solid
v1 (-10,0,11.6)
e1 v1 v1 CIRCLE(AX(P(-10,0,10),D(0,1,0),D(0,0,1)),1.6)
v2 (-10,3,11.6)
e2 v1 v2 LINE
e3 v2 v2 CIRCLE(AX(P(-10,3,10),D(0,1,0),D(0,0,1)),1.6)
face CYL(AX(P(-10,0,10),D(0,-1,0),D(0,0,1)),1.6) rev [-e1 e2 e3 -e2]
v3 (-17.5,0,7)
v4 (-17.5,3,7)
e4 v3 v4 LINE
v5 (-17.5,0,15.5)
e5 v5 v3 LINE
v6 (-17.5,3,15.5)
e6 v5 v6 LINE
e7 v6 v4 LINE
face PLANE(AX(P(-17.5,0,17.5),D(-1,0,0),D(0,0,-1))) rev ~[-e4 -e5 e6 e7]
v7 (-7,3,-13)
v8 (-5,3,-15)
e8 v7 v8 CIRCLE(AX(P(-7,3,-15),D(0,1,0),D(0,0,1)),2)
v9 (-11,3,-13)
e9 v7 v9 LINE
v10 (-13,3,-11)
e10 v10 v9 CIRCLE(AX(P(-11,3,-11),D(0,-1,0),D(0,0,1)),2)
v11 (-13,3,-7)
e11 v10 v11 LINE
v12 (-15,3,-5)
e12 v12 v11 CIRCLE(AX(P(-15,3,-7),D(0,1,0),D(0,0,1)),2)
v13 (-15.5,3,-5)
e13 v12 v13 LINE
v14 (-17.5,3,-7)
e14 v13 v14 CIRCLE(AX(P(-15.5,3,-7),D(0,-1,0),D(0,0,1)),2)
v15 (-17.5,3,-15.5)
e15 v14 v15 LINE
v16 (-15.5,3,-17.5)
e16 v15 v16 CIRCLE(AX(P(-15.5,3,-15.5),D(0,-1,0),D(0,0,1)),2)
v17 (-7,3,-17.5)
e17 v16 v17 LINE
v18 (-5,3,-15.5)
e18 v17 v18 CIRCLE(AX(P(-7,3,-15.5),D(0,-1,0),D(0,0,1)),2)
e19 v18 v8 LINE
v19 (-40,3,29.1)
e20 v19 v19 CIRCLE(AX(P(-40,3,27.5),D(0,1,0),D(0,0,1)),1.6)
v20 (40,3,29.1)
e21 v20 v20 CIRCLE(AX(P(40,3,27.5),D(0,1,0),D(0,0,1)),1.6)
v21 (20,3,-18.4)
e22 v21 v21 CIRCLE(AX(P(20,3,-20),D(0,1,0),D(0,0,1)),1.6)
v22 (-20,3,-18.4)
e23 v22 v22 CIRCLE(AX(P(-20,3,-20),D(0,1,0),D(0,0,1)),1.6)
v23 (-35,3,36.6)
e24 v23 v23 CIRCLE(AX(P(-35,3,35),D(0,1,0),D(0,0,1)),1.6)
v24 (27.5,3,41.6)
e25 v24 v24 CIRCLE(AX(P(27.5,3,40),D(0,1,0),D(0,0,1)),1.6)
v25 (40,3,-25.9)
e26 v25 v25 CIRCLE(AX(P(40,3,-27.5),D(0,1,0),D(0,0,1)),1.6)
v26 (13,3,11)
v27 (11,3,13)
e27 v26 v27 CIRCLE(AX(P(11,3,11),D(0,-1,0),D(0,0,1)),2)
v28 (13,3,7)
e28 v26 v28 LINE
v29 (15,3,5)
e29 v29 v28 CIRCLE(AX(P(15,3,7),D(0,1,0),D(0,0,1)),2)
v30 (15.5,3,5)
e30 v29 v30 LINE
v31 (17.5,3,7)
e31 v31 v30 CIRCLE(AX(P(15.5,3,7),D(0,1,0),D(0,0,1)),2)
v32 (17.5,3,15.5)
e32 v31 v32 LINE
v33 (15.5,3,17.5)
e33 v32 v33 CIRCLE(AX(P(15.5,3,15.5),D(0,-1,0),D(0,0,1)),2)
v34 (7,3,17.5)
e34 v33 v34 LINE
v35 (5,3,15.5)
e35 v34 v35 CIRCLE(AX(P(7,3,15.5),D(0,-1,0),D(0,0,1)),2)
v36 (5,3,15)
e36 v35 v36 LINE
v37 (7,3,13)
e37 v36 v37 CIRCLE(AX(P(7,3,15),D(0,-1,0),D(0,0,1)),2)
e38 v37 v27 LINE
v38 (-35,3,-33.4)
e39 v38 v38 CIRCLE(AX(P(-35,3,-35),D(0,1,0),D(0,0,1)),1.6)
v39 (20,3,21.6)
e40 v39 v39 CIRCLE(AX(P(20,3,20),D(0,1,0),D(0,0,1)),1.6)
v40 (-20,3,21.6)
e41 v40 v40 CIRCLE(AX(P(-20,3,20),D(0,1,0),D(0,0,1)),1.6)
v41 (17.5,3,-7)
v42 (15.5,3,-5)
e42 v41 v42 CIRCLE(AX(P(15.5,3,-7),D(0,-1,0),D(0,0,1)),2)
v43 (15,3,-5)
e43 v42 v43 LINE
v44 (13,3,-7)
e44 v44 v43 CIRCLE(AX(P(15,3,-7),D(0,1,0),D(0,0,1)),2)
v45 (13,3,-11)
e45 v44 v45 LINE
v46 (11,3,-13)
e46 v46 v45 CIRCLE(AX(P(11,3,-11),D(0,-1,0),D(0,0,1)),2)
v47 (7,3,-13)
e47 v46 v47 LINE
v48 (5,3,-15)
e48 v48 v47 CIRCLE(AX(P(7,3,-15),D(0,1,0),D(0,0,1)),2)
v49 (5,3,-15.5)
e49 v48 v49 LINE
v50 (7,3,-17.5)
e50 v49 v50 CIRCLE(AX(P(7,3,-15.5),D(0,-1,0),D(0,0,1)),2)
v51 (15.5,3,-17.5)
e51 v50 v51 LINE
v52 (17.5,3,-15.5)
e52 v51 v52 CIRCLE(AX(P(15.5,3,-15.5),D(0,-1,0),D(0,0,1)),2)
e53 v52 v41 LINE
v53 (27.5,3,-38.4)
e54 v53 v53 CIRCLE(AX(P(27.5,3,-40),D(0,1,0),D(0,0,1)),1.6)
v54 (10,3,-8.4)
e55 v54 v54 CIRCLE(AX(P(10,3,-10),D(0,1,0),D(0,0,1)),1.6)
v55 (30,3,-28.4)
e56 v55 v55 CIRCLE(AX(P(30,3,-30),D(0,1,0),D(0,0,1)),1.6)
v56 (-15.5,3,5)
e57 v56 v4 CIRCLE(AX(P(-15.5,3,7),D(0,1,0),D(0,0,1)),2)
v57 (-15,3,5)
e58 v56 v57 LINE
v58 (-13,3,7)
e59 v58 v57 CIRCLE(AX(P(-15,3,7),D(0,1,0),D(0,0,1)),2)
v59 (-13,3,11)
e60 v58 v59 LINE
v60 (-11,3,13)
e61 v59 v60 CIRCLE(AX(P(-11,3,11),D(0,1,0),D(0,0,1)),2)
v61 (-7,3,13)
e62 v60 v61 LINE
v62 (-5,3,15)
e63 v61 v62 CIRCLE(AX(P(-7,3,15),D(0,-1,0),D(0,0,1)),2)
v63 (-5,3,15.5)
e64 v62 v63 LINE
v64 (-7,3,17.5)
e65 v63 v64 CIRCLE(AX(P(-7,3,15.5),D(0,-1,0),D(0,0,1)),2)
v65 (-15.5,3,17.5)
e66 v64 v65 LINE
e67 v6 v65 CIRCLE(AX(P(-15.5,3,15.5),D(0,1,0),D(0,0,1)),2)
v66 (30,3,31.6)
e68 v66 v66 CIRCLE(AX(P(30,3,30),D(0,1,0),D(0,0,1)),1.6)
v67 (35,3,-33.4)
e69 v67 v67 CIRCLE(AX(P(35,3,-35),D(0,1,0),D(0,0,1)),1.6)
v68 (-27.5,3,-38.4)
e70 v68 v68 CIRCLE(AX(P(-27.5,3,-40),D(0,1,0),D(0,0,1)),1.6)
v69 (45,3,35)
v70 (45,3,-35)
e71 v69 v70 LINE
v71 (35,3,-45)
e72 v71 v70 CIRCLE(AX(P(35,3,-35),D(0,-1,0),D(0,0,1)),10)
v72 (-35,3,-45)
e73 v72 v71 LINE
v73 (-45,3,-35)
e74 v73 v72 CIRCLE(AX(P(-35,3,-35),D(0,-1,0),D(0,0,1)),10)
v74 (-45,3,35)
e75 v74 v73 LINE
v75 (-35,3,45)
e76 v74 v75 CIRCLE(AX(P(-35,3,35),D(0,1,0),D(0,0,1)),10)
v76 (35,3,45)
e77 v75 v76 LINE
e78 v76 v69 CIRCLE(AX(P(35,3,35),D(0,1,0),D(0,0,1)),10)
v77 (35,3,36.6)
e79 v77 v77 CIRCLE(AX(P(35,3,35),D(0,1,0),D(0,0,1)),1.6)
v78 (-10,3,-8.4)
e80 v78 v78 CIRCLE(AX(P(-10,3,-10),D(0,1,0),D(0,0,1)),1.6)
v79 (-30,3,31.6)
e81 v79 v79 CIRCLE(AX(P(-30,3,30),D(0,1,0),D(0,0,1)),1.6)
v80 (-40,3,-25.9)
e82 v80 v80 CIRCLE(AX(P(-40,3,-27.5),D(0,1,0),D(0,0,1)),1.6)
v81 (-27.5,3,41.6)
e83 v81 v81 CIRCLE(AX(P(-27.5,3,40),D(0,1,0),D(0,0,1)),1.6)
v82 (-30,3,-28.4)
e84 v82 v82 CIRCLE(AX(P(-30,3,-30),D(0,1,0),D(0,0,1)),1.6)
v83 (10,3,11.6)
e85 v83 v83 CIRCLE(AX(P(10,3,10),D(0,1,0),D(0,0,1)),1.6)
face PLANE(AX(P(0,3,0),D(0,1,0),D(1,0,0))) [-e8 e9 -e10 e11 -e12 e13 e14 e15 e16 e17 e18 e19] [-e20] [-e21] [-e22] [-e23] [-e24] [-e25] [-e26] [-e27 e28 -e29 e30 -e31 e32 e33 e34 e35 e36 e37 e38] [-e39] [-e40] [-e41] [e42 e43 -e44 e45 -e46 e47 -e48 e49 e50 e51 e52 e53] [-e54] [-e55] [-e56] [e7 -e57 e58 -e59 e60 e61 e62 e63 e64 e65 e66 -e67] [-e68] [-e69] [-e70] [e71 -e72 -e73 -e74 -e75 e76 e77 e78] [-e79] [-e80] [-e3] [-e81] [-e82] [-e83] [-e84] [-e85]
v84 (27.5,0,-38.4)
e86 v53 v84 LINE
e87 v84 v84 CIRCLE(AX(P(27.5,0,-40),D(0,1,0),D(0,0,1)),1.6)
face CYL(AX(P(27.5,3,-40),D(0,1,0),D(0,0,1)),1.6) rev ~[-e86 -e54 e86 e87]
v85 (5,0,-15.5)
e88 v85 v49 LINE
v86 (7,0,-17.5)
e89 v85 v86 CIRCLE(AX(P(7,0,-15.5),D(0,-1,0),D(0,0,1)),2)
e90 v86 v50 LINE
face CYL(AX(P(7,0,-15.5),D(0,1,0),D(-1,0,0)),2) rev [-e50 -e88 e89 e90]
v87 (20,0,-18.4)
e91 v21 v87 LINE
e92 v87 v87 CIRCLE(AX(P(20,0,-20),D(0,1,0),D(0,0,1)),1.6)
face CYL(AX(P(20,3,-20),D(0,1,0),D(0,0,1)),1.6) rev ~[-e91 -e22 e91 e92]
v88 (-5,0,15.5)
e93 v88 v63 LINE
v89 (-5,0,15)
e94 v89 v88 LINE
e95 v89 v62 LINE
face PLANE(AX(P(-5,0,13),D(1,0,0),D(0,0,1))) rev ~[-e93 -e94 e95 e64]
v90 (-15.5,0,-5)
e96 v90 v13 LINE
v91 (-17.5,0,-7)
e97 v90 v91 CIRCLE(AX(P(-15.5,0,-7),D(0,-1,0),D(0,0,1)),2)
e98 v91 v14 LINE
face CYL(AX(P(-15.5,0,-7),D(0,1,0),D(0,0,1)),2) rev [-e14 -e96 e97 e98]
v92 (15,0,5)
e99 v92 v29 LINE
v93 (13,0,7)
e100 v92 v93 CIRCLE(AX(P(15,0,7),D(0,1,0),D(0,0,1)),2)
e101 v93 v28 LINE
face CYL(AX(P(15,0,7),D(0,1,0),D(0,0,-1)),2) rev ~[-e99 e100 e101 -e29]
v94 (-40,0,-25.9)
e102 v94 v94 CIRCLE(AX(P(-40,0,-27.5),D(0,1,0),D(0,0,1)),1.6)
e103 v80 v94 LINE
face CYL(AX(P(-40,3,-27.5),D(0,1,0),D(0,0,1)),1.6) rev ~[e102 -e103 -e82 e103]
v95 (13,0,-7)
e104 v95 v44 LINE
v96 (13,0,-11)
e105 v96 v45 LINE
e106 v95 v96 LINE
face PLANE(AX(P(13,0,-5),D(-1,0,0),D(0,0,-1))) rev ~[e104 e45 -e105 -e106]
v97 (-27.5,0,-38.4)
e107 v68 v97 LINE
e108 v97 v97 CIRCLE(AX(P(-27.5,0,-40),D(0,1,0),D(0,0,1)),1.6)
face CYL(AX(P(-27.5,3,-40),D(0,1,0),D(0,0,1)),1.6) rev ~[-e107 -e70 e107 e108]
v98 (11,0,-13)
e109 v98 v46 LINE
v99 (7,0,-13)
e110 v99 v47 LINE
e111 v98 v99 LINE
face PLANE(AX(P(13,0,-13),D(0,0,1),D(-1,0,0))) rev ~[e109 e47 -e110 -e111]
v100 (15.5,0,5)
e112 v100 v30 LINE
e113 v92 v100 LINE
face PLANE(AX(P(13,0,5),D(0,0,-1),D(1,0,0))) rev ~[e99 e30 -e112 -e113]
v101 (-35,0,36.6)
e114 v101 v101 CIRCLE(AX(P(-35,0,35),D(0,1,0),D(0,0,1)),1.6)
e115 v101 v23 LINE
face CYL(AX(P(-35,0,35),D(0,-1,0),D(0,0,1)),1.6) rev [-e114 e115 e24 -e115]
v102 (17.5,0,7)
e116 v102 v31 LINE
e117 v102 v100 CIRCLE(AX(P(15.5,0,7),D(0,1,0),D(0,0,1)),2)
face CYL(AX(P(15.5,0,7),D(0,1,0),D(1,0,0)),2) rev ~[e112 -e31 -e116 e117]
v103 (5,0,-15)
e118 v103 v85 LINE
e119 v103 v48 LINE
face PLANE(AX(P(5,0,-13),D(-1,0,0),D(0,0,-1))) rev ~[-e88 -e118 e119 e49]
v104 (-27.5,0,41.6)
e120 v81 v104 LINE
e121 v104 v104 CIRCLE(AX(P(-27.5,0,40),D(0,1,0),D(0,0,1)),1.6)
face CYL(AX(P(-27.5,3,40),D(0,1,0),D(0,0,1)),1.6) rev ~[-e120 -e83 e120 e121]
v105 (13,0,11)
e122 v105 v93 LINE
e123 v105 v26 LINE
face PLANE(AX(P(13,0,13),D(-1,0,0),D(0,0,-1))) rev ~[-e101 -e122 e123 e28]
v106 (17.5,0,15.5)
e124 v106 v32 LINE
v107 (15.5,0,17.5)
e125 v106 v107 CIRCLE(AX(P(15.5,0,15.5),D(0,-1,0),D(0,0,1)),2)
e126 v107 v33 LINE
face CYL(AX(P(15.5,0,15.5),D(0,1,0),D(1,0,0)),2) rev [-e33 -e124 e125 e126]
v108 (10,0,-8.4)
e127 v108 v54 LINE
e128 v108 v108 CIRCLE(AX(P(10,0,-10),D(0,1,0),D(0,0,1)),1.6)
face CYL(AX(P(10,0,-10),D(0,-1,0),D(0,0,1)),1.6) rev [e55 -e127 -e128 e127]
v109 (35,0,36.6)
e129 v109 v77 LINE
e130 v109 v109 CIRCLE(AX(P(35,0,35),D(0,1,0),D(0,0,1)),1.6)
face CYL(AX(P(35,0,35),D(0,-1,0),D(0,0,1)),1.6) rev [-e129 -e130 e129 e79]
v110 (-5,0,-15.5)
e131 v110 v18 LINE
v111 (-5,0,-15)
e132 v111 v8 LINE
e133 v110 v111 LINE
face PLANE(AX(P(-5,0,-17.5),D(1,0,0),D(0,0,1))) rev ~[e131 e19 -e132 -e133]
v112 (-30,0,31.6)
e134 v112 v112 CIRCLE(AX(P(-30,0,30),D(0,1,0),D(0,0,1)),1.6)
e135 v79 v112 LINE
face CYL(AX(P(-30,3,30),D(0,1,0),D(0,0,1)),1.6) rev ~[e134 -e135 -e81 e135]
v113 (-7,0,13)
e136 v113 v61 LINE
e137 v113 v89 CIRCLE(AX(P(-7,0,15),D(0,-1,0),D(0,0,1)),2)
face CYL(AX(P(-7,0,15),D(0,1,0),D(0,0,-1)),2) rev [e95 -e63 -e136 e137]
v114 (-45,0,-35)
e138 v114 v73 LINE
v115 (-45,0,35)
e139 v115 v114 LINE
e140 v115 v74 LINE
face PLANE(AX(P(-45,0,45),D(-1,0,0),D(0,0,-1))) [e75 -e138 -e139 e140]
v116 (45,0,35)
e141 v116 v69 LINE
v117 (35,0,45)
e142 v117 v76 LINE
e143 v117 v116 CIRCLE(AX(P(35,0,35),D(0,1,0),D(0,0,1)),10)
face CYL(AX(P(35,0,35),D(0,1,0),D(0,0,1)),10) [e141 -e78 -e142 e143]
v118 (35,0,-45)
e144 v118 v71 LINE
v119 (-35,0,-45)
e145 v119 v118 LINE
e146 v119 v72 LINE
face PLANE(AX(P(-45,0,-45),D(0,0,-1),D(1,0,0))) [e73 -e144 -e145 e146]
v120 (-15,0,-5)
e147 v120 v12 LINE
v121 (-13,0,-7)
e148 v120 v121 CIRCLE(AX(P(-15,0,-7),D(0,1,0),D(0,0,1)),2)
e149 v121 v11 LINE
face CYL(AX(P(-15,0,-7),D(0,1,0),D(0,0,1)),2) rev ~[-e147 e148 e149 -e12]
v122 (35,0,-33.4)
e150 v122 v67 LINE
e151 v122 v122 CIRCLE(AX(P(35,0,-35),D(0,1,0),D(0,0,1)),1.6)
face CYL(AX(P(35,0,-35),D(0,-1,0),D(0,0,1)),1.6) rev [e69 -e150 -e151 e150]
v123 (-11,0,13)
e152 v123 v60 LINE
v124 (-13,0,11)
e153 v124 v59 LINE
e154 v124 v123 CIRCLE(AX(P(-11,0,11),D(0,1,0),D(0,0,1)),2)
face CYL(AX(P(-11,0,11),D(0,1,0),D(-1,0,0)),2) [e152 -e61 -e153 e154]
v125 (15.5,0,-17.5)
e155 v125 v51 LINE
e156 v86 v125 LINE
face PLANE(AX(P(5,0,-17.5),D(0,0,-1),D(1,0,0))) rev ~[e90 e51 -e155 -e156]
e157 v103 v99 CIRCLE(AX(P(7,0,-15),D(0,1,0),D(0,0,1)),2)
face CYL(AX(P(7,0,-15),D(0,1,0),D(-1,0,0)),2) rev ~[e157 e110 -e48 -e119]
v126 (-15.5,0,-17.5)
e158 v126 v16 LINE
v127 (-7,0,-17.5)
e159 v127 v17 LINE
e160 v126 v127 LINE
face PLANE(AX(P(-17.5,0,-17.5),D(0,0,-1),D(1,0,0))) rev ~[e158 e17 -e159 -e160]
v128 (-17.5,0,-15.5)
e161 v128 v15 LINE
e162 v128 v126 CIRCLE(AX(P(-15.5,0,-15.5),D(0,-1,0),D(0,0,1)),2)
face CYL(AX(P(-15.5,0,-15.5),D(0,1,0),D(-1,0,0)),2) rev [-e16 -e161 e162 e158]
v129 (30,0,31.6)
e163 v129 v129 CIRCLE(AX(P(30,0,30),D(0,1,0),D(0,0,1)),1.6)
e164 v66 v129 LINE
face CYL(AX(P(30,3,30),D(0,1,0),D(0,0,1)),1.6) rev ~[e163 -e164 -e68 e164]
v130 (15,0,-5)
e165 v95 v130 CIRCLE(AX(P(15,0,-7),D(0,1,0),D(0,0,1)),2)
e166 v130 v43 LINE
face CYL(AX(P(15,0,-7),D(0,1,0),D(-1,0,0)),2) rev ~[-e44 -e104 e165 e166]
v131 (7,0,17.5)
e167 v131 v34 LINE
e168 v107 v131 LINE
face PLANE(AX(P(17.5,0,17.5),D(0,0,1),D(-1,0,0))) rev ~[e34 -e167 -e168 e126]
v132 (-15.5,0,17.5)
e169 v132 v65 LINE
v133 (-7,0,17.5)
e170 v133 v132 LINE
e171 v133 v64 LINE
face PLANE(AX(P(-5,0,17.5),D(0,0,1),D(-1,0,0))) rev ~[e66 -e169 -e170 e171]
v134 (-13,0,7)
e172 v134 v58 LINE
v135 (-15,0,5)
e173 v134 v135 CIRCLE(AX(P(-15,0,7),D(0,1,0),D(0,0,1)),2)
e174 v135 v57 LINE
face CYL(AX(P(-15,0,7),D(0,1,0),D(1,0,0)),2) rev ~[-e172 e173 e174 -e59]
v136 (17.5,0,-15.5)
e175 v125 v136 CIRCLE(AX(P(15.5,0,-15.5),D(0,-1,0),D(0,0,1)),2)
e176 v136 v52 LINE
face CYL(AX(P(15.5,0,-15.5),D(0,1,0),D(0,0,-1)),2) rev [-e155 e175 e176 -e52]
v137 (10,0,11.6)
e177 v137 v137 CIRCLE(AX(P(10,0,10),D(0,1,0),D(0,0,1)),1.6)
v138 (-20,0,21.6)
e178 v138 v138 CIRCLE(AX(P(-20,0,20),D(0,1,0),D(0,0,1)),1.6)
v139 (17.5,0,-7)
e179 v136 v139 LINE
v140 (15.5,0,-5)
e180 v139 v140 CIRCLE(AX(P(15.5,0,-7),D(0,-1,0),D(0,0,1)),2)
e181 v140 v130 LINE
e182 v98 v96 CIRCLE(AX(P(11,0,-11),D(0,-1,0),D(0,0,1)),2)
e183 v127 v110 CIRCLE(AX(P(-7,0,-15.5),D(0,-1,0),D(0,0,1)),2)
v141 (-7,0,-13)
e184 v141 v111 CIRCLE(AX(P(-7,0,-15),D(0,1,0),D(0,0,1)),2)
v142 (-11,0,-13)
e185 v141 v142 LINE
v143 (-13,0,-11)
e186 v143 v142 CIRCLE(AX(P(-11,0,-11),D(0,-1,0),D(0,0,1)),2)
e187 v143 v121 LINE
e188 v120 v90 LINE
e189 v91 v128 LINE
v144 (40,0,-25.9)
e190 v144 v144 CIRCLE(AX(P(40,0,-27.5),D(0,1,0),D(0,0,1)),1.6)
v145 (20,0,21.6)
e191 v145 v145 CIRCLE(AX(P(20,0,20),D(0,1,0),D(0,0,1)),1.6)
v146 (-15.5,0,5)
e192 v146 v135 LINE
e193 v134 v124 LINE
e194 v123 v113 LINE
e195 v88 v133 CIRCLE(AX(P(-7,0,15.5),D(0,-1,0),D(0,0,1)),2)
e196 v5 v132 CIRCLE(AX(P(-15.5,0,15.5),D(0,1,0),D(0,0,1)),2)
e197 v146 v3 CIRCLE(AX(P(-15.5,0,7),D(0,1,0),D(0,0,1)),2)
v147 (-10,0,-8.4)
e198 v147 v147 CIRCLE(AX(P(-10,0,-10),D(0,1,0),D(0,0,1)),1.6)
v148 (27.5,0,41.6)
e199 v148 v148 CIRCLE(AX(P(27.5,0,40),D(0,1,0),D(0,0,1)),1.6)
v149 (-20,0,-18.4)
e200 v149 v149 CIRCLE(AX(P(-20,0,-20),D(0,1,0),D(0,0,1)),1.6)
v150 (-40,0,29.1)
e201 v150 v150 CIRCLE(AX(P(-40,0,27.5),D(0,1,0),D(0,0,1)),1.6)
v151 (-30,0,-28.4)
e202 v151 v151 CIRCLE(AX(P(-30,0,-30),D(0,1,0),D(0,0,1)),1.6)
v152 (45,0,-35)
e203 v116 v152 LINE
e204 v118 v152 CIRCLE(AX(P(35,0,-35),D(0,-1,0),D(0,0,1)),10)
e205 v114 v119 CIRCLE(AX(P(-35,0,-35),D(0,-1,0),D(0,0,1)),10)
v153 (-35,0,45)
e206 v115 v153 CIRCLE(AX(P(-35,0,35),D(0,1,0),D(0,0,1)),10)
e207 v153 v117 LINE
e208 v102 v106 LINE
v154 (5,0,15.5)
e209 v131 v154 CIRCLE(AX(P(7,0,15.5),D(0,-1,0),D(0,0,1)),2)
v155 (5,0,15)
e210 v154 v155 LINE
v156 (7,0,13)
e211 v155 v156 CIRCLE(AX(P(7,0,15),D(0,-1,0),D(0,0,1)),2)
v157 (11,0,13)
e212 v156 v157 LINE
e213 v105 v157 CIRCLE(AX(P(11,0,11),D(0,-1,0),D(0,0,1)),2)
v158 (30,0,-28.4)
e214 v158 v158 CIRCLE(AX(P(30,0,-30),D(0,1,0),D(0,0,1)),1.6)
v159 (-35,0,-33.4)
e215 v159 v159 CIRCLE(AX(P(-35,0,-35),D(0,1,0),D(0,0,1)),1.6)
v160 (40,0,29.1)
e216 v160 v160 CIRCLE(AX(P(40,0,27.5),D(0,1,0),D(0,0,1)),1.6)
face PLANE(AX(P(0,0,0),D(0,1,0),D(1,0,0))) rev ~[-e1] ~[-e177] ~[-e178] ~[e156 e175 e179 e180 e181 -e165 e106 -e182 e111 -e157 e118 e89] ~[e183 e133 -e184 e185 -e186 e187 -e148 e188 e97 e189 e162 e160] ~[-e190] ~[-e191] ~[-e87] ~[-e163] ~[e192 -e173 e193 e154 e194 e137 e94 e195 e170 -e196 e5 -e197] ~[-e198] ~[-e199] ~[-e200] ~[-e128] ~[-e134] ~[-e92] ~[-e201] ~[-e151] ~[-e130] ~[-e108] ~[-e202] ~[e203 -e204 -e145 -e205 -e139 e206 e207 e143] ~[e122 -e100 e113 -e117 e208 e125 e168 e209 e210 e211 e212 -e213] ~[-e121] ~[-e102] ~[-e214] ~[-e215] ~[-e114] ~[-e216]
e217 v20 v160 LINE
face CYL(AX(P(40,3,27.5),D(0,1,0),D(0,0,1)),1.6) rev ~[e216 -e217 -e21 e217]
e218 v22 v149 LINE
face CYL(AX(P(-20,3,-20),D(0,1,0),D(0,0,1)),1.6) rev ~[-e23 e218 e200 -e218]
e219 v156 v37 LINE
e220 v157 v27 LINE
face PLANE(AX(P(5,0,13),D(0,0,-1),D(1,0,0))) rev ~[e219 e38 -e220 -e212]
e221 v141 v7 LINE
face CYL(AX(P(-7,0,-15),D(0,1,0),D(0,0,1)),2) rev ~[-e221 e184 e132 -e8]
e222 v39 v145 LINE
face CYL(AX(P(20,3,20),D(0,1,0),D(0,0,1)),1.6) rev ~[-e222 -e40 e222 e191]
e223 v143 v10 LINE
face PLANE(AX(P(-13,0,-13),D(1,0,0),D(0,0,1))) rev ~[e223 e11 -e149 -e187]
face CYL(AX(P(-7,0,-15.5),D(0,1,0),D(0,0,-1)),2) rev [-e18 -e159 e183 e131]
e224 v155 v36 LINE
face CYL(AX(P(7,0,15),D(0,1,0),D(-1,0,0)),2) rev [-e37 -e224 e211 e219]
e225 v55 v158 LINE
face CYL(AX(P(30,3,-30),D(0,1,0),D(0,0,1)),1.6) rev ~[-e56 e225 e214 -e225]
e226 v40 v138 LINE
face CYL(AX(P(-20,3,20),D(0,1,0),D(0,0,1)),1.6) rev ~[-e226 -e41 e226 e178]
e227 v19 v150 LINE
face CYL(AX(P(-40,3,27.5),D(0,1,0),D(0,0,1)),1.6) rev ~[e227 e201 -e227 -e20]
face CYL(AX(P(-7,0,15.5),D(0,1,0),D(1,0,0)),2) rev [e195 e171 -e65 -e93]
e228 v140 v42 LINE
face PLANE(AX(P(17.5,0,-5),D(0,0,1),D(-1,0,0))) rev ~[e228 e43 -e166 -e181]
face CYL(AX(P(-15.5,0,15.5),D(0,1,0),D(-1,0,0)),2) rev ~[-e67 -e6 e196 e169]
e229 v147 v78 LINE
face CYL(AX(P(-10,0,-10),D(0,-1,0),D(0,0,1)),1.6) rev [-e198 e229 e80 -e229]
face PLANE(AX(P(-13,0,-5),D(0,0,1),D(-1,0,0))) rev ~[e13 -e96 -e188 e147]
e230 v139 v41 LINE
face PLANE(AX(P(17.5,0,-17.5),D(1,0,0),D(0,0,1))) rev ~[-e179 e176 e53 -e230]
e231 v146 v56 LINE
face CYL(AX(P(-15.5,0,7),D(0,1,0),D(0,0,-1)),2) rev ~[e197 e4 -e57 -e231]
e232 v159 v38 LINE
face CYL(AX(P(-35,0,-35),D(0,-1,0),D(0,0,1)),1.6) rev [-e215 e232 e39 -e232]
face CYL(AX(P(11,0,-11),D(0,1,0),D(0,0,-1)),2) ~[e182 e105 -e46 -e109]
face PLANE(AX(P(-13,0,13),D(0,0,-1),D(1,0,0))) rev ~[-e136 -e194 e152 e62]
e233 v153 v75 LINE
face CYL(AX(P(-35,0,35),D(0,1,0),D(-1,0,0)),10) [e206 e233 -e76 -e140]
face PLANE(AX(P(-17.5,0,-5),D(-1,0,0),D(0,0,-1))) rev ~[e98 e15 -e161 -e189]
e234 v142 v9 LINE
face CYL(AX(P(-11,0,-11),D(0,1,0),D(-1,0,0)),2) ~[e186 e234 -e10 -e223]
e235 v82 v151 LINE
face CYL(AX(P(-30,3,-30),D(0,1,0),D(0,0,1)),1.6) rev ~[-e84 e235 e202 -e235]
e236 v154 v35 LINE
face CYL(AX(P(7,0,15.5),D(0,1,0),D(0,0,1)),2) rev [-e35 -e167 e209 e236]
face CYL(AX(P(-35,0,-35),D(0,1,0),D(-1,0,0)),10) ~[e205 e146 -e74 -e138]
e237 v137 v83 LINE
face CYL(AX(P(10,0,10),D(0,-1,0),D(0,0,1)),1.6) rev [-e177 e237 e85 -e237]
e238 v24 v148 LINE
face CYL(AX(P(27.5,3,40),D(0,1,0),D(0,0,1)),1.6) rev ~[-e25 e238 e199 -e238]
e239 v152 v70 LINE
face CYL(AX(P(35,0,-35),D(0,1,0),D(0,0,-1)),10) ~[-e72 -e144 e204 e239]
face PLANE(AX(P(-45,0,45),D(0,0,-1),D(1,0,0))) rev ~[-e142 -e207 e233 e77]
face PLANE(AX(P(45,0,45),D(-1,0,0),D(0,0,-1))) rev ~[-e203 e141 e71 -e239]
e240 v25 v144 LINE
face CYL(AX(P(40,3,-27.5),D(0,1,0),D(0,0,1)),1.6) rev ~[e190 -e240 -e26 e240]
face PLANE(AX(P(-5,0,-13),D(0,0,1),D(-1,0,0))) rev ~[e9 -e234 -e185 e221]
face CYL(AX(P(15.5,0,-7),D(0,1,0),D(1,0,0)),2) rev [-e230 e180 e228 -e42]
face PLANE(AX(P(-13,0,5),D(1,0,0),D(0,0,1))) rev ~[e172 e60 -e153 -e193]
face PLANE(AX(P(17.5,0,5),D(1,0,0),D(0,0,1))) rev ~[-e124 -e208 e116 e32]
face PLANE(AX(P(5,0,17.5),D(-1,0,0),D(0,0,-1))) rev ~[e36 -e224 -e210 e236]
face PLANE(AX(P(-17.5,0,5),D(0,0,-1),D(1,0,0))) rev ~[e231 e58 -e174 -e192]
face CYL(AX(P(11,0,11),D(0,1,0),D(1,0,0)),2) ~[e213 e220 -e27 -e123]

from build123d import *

# Parameters (mm, degrees)
SKETCH_1_W          = 90
SKETCH_1_H          = 90
SKETCH_1_R          = 1.6
EXTRUDE_1_DEPTH     = 3
SKETCH_3_R          = 1.6
CUT_EXTRUDE_2_DEPTH = 64.710281745
FILLET_1_R          = 2
FILLET_3_R          = 10
SKETCH_6_R          = 1.6
CUT_EXTRUDE_4_DEPTH = 64.710281745
SKETCH_12_R         = 1.6
CUT_EXTRUDE_5_DEPTH = 64.710281745


with BuildPart() as part:
    # 草图1 → 凸台-拉伸1 (new body)
    with BuildSketch(Plane(origin=(0, 0, 0), x_dir=(1, 0, 0), z_dir=(0, 1, 0))):
        Rectangle(SKETCH_1_W, SKETCH_1_H)
        with Locations(Location((-35, -35, 0), (0, 0, 270))):
            Circle(SKETCH_1_R, mode=Mode.SUBTRACT)
        with Locations(Location((35, -35, 0), (0, 0, 270))):
            Circle(SKETCH_1_R, mode=Mode.SUBTRACT)
        Polygon((17.5, -17.5), (5, -17.5), (5, -13), (13, -13), (13, -5), (17.5, -5), align=None, mode=Mode.SUBTRACT)
        Polygon((-13, -13), (-5, -13), (-5, -17.5), (-17.5, -17.5), (-17.5, -5), (-13, -5), align=None, mode=Mode.SUBTRACT)
        Polygon((-17.5, 5), (-17.5, 17.5), (-5, 17.5), (-5, 13), (-13, 13), (-13, 5), align=None, mode=Mode.SUBTRACT)
        Polygon((5, 17.5), (17.5, 17.5), (17.5, 5), (13, 5), (13, 13), (5, 13), align=None, mode=Mode.SUBTRACT)
        with Locations(Location((-35, 35, 0), (0, 0, 270))):
            Circle(SKETCH_1_R, mode=Mode.SUBTRACT)
        with Locations(Location((35, 35, 0), (0, 0, 270))):
            Circle(SKETCH_1_R, mode=Mode.SUBTRACT)
        with Locations(Location((10, -10, 0), (0, 0, 270))):
            Circle(SKETCH_1_R, mode=Mode.SUBTRACT)
        with Locations(Location((-10, -10, 0), (0, 0, 270))):
            Circle(SKETCH_1_R, mode=Mode.SUBTRACT)
        with Locations(Location((10, 10, 0), (0, 0, 270))):
            Circle(SKETCH_1_R, mode=Mode.SUBTRACT)
        with Locations(Location((-10, 10, 0), (0, 0, 270))):
            Circle(SKETCH_1_R, mode=Mode.SUBTRACT)
    extrude(amount=EXTRUDE_1_DEPTH)

    # 草图3 → 切除-拉伸2 (cut, through all)
    with BuildSketch(Plane(origin=(0, 3, 0), x_dir=(1, 0, 0), z_dir=(0, 1, 0))):
        with Locations(Location((-20, 20, 0), (0, 0, 270))):
            Circle(SKETCH_3_R)
        with Locations(Location((20, 20, 0), (0, 0, 270))):
            Circle(SKETCH_3_R)
        with Locations(Location((20, -20, 0), (0, 0, 270))):
            Circle(SKETCH_3_R)
        with Locations(Location((-20, -20, 0), (0, 0, 270))):
            Circle(SKETCH_3_R)
    extrude(amount=-CUT_EXTRUDE_2_DEPTH, mode=Mode.SUBTRACT)

    # 圆角1
    fillet_1_edges = [part.edges().sort_by_distance(p)[0] for p in [
        (17.5, 1.5, 17.5),
        (17.5, 1.5, 5),
        (13, 1.5, 5),
        (13, 1.5, 13),
        (5, 1.5, 13),
        (5, 1.5, 17.5),
        (-5, 1.5, 13),
        (-13, 1.5, 13),
        (-13, 1.5, 5),
        (-17.5, 1.5, 5),
        (-17.5, 1.5, 17.5),
        (-5, 1.5, 17.5),
        (-5, 1.5, -17.5),
        (-17.5, 1.5, -17.5),
        (-17.5, 1.5, -5),
        (-13, 1.5, -5),
        (-13, 1.5, -13),
        (-5, 1.5, -13),
        (17.5, 1.5, -5),
        (17.5, 1.5, -17.5),
        (5, 1.5, -17.5),
        (5, 1.5, -13),
        (13, 1.5, -13),
        (13, 1.5, -5),
    ]]
    fillet(fillet_1_edges, radius=FILLET_1_R)

    # 圆角3
    fillet_3_edges = [part.edges().sort_by_distance(p)[0] for p in [
        (-45, 1.5, -45),
        (45, 1.5, -45),
        (45, 1.5, 45),
        (-45, 1.5, 45),
    ]]
    fillet(fillet_3_edges, radius=FILLET_3_R)

    # 草图6 → 切除-拉伸4 (cut, through all)
    with BuildSketch(Plane(origin=(0, 3, 0), x_dir=(1, 0, 0), z_dir=(0, 1, 0))):
        with Locations(Location((-27.5, 40, 0), (0, 0, 270))):
            Circle(SKETCH_6_R)
        with Locations(Location((27.5, 40, 0), (0, 0, 270))):
            Circle(SKETCH_6_R)
        with Locations(Location((40, 27.5, 0), (0, 0, 270))):
            Circle(SKETCH_6_R)
        with Locations(Location((27.5, -40, 0), (0, 0, 270))):
            Circle(SKETCH_6_R)
        with Locations(Location((-40, -27.5, 0), (0, 0, 270))):
            Circle(SKETCH_6_R)
        with Locations(Location((40, -27.5, 0), (0, 0, 270))):
            Circle(SKETCH_6_R)
        with Locations(Location((-27.5, -40, 0), (0, 0, 270))):
            Circle(SKETCH_6_R)
        with Locations(Location((-40, 27.5, 0), (0, 0, 270))):
            Circle(SKETCH_6_R)
    extrude(amount=-CUT_EXTRUDE_4_DEPTH, mode=Mode.SUBTRACT)

    # 草图12 → 切除-拉伸5 (cut, through all)
    with BuildSketch(Plane(origin=(0, 3, 0), x_dir=(1, 0, 0), z_dir=(0, 1, 0))):
        with Locations(Location((-30, 30, 0), (0, 0, 270))):
            Circle(SKETCH_12_R)
        with Locations(Location((30, 30, 0), (0, 0, 270))):
            Circle(SKETCH_12_R)
        with Locations(Location((30, -30, 0), (0, 0, 270))):
            Circle(SKETCH_12_R)
        with Locations(Location((-30, -30, 0), (0, 0, 270))):
            Circle(SKETCH_12_R)
    extrude(amount=-CUT_EXTRUDE_5_DEPTH, mode=Mode.SUBTRACT)


solid = part.part
